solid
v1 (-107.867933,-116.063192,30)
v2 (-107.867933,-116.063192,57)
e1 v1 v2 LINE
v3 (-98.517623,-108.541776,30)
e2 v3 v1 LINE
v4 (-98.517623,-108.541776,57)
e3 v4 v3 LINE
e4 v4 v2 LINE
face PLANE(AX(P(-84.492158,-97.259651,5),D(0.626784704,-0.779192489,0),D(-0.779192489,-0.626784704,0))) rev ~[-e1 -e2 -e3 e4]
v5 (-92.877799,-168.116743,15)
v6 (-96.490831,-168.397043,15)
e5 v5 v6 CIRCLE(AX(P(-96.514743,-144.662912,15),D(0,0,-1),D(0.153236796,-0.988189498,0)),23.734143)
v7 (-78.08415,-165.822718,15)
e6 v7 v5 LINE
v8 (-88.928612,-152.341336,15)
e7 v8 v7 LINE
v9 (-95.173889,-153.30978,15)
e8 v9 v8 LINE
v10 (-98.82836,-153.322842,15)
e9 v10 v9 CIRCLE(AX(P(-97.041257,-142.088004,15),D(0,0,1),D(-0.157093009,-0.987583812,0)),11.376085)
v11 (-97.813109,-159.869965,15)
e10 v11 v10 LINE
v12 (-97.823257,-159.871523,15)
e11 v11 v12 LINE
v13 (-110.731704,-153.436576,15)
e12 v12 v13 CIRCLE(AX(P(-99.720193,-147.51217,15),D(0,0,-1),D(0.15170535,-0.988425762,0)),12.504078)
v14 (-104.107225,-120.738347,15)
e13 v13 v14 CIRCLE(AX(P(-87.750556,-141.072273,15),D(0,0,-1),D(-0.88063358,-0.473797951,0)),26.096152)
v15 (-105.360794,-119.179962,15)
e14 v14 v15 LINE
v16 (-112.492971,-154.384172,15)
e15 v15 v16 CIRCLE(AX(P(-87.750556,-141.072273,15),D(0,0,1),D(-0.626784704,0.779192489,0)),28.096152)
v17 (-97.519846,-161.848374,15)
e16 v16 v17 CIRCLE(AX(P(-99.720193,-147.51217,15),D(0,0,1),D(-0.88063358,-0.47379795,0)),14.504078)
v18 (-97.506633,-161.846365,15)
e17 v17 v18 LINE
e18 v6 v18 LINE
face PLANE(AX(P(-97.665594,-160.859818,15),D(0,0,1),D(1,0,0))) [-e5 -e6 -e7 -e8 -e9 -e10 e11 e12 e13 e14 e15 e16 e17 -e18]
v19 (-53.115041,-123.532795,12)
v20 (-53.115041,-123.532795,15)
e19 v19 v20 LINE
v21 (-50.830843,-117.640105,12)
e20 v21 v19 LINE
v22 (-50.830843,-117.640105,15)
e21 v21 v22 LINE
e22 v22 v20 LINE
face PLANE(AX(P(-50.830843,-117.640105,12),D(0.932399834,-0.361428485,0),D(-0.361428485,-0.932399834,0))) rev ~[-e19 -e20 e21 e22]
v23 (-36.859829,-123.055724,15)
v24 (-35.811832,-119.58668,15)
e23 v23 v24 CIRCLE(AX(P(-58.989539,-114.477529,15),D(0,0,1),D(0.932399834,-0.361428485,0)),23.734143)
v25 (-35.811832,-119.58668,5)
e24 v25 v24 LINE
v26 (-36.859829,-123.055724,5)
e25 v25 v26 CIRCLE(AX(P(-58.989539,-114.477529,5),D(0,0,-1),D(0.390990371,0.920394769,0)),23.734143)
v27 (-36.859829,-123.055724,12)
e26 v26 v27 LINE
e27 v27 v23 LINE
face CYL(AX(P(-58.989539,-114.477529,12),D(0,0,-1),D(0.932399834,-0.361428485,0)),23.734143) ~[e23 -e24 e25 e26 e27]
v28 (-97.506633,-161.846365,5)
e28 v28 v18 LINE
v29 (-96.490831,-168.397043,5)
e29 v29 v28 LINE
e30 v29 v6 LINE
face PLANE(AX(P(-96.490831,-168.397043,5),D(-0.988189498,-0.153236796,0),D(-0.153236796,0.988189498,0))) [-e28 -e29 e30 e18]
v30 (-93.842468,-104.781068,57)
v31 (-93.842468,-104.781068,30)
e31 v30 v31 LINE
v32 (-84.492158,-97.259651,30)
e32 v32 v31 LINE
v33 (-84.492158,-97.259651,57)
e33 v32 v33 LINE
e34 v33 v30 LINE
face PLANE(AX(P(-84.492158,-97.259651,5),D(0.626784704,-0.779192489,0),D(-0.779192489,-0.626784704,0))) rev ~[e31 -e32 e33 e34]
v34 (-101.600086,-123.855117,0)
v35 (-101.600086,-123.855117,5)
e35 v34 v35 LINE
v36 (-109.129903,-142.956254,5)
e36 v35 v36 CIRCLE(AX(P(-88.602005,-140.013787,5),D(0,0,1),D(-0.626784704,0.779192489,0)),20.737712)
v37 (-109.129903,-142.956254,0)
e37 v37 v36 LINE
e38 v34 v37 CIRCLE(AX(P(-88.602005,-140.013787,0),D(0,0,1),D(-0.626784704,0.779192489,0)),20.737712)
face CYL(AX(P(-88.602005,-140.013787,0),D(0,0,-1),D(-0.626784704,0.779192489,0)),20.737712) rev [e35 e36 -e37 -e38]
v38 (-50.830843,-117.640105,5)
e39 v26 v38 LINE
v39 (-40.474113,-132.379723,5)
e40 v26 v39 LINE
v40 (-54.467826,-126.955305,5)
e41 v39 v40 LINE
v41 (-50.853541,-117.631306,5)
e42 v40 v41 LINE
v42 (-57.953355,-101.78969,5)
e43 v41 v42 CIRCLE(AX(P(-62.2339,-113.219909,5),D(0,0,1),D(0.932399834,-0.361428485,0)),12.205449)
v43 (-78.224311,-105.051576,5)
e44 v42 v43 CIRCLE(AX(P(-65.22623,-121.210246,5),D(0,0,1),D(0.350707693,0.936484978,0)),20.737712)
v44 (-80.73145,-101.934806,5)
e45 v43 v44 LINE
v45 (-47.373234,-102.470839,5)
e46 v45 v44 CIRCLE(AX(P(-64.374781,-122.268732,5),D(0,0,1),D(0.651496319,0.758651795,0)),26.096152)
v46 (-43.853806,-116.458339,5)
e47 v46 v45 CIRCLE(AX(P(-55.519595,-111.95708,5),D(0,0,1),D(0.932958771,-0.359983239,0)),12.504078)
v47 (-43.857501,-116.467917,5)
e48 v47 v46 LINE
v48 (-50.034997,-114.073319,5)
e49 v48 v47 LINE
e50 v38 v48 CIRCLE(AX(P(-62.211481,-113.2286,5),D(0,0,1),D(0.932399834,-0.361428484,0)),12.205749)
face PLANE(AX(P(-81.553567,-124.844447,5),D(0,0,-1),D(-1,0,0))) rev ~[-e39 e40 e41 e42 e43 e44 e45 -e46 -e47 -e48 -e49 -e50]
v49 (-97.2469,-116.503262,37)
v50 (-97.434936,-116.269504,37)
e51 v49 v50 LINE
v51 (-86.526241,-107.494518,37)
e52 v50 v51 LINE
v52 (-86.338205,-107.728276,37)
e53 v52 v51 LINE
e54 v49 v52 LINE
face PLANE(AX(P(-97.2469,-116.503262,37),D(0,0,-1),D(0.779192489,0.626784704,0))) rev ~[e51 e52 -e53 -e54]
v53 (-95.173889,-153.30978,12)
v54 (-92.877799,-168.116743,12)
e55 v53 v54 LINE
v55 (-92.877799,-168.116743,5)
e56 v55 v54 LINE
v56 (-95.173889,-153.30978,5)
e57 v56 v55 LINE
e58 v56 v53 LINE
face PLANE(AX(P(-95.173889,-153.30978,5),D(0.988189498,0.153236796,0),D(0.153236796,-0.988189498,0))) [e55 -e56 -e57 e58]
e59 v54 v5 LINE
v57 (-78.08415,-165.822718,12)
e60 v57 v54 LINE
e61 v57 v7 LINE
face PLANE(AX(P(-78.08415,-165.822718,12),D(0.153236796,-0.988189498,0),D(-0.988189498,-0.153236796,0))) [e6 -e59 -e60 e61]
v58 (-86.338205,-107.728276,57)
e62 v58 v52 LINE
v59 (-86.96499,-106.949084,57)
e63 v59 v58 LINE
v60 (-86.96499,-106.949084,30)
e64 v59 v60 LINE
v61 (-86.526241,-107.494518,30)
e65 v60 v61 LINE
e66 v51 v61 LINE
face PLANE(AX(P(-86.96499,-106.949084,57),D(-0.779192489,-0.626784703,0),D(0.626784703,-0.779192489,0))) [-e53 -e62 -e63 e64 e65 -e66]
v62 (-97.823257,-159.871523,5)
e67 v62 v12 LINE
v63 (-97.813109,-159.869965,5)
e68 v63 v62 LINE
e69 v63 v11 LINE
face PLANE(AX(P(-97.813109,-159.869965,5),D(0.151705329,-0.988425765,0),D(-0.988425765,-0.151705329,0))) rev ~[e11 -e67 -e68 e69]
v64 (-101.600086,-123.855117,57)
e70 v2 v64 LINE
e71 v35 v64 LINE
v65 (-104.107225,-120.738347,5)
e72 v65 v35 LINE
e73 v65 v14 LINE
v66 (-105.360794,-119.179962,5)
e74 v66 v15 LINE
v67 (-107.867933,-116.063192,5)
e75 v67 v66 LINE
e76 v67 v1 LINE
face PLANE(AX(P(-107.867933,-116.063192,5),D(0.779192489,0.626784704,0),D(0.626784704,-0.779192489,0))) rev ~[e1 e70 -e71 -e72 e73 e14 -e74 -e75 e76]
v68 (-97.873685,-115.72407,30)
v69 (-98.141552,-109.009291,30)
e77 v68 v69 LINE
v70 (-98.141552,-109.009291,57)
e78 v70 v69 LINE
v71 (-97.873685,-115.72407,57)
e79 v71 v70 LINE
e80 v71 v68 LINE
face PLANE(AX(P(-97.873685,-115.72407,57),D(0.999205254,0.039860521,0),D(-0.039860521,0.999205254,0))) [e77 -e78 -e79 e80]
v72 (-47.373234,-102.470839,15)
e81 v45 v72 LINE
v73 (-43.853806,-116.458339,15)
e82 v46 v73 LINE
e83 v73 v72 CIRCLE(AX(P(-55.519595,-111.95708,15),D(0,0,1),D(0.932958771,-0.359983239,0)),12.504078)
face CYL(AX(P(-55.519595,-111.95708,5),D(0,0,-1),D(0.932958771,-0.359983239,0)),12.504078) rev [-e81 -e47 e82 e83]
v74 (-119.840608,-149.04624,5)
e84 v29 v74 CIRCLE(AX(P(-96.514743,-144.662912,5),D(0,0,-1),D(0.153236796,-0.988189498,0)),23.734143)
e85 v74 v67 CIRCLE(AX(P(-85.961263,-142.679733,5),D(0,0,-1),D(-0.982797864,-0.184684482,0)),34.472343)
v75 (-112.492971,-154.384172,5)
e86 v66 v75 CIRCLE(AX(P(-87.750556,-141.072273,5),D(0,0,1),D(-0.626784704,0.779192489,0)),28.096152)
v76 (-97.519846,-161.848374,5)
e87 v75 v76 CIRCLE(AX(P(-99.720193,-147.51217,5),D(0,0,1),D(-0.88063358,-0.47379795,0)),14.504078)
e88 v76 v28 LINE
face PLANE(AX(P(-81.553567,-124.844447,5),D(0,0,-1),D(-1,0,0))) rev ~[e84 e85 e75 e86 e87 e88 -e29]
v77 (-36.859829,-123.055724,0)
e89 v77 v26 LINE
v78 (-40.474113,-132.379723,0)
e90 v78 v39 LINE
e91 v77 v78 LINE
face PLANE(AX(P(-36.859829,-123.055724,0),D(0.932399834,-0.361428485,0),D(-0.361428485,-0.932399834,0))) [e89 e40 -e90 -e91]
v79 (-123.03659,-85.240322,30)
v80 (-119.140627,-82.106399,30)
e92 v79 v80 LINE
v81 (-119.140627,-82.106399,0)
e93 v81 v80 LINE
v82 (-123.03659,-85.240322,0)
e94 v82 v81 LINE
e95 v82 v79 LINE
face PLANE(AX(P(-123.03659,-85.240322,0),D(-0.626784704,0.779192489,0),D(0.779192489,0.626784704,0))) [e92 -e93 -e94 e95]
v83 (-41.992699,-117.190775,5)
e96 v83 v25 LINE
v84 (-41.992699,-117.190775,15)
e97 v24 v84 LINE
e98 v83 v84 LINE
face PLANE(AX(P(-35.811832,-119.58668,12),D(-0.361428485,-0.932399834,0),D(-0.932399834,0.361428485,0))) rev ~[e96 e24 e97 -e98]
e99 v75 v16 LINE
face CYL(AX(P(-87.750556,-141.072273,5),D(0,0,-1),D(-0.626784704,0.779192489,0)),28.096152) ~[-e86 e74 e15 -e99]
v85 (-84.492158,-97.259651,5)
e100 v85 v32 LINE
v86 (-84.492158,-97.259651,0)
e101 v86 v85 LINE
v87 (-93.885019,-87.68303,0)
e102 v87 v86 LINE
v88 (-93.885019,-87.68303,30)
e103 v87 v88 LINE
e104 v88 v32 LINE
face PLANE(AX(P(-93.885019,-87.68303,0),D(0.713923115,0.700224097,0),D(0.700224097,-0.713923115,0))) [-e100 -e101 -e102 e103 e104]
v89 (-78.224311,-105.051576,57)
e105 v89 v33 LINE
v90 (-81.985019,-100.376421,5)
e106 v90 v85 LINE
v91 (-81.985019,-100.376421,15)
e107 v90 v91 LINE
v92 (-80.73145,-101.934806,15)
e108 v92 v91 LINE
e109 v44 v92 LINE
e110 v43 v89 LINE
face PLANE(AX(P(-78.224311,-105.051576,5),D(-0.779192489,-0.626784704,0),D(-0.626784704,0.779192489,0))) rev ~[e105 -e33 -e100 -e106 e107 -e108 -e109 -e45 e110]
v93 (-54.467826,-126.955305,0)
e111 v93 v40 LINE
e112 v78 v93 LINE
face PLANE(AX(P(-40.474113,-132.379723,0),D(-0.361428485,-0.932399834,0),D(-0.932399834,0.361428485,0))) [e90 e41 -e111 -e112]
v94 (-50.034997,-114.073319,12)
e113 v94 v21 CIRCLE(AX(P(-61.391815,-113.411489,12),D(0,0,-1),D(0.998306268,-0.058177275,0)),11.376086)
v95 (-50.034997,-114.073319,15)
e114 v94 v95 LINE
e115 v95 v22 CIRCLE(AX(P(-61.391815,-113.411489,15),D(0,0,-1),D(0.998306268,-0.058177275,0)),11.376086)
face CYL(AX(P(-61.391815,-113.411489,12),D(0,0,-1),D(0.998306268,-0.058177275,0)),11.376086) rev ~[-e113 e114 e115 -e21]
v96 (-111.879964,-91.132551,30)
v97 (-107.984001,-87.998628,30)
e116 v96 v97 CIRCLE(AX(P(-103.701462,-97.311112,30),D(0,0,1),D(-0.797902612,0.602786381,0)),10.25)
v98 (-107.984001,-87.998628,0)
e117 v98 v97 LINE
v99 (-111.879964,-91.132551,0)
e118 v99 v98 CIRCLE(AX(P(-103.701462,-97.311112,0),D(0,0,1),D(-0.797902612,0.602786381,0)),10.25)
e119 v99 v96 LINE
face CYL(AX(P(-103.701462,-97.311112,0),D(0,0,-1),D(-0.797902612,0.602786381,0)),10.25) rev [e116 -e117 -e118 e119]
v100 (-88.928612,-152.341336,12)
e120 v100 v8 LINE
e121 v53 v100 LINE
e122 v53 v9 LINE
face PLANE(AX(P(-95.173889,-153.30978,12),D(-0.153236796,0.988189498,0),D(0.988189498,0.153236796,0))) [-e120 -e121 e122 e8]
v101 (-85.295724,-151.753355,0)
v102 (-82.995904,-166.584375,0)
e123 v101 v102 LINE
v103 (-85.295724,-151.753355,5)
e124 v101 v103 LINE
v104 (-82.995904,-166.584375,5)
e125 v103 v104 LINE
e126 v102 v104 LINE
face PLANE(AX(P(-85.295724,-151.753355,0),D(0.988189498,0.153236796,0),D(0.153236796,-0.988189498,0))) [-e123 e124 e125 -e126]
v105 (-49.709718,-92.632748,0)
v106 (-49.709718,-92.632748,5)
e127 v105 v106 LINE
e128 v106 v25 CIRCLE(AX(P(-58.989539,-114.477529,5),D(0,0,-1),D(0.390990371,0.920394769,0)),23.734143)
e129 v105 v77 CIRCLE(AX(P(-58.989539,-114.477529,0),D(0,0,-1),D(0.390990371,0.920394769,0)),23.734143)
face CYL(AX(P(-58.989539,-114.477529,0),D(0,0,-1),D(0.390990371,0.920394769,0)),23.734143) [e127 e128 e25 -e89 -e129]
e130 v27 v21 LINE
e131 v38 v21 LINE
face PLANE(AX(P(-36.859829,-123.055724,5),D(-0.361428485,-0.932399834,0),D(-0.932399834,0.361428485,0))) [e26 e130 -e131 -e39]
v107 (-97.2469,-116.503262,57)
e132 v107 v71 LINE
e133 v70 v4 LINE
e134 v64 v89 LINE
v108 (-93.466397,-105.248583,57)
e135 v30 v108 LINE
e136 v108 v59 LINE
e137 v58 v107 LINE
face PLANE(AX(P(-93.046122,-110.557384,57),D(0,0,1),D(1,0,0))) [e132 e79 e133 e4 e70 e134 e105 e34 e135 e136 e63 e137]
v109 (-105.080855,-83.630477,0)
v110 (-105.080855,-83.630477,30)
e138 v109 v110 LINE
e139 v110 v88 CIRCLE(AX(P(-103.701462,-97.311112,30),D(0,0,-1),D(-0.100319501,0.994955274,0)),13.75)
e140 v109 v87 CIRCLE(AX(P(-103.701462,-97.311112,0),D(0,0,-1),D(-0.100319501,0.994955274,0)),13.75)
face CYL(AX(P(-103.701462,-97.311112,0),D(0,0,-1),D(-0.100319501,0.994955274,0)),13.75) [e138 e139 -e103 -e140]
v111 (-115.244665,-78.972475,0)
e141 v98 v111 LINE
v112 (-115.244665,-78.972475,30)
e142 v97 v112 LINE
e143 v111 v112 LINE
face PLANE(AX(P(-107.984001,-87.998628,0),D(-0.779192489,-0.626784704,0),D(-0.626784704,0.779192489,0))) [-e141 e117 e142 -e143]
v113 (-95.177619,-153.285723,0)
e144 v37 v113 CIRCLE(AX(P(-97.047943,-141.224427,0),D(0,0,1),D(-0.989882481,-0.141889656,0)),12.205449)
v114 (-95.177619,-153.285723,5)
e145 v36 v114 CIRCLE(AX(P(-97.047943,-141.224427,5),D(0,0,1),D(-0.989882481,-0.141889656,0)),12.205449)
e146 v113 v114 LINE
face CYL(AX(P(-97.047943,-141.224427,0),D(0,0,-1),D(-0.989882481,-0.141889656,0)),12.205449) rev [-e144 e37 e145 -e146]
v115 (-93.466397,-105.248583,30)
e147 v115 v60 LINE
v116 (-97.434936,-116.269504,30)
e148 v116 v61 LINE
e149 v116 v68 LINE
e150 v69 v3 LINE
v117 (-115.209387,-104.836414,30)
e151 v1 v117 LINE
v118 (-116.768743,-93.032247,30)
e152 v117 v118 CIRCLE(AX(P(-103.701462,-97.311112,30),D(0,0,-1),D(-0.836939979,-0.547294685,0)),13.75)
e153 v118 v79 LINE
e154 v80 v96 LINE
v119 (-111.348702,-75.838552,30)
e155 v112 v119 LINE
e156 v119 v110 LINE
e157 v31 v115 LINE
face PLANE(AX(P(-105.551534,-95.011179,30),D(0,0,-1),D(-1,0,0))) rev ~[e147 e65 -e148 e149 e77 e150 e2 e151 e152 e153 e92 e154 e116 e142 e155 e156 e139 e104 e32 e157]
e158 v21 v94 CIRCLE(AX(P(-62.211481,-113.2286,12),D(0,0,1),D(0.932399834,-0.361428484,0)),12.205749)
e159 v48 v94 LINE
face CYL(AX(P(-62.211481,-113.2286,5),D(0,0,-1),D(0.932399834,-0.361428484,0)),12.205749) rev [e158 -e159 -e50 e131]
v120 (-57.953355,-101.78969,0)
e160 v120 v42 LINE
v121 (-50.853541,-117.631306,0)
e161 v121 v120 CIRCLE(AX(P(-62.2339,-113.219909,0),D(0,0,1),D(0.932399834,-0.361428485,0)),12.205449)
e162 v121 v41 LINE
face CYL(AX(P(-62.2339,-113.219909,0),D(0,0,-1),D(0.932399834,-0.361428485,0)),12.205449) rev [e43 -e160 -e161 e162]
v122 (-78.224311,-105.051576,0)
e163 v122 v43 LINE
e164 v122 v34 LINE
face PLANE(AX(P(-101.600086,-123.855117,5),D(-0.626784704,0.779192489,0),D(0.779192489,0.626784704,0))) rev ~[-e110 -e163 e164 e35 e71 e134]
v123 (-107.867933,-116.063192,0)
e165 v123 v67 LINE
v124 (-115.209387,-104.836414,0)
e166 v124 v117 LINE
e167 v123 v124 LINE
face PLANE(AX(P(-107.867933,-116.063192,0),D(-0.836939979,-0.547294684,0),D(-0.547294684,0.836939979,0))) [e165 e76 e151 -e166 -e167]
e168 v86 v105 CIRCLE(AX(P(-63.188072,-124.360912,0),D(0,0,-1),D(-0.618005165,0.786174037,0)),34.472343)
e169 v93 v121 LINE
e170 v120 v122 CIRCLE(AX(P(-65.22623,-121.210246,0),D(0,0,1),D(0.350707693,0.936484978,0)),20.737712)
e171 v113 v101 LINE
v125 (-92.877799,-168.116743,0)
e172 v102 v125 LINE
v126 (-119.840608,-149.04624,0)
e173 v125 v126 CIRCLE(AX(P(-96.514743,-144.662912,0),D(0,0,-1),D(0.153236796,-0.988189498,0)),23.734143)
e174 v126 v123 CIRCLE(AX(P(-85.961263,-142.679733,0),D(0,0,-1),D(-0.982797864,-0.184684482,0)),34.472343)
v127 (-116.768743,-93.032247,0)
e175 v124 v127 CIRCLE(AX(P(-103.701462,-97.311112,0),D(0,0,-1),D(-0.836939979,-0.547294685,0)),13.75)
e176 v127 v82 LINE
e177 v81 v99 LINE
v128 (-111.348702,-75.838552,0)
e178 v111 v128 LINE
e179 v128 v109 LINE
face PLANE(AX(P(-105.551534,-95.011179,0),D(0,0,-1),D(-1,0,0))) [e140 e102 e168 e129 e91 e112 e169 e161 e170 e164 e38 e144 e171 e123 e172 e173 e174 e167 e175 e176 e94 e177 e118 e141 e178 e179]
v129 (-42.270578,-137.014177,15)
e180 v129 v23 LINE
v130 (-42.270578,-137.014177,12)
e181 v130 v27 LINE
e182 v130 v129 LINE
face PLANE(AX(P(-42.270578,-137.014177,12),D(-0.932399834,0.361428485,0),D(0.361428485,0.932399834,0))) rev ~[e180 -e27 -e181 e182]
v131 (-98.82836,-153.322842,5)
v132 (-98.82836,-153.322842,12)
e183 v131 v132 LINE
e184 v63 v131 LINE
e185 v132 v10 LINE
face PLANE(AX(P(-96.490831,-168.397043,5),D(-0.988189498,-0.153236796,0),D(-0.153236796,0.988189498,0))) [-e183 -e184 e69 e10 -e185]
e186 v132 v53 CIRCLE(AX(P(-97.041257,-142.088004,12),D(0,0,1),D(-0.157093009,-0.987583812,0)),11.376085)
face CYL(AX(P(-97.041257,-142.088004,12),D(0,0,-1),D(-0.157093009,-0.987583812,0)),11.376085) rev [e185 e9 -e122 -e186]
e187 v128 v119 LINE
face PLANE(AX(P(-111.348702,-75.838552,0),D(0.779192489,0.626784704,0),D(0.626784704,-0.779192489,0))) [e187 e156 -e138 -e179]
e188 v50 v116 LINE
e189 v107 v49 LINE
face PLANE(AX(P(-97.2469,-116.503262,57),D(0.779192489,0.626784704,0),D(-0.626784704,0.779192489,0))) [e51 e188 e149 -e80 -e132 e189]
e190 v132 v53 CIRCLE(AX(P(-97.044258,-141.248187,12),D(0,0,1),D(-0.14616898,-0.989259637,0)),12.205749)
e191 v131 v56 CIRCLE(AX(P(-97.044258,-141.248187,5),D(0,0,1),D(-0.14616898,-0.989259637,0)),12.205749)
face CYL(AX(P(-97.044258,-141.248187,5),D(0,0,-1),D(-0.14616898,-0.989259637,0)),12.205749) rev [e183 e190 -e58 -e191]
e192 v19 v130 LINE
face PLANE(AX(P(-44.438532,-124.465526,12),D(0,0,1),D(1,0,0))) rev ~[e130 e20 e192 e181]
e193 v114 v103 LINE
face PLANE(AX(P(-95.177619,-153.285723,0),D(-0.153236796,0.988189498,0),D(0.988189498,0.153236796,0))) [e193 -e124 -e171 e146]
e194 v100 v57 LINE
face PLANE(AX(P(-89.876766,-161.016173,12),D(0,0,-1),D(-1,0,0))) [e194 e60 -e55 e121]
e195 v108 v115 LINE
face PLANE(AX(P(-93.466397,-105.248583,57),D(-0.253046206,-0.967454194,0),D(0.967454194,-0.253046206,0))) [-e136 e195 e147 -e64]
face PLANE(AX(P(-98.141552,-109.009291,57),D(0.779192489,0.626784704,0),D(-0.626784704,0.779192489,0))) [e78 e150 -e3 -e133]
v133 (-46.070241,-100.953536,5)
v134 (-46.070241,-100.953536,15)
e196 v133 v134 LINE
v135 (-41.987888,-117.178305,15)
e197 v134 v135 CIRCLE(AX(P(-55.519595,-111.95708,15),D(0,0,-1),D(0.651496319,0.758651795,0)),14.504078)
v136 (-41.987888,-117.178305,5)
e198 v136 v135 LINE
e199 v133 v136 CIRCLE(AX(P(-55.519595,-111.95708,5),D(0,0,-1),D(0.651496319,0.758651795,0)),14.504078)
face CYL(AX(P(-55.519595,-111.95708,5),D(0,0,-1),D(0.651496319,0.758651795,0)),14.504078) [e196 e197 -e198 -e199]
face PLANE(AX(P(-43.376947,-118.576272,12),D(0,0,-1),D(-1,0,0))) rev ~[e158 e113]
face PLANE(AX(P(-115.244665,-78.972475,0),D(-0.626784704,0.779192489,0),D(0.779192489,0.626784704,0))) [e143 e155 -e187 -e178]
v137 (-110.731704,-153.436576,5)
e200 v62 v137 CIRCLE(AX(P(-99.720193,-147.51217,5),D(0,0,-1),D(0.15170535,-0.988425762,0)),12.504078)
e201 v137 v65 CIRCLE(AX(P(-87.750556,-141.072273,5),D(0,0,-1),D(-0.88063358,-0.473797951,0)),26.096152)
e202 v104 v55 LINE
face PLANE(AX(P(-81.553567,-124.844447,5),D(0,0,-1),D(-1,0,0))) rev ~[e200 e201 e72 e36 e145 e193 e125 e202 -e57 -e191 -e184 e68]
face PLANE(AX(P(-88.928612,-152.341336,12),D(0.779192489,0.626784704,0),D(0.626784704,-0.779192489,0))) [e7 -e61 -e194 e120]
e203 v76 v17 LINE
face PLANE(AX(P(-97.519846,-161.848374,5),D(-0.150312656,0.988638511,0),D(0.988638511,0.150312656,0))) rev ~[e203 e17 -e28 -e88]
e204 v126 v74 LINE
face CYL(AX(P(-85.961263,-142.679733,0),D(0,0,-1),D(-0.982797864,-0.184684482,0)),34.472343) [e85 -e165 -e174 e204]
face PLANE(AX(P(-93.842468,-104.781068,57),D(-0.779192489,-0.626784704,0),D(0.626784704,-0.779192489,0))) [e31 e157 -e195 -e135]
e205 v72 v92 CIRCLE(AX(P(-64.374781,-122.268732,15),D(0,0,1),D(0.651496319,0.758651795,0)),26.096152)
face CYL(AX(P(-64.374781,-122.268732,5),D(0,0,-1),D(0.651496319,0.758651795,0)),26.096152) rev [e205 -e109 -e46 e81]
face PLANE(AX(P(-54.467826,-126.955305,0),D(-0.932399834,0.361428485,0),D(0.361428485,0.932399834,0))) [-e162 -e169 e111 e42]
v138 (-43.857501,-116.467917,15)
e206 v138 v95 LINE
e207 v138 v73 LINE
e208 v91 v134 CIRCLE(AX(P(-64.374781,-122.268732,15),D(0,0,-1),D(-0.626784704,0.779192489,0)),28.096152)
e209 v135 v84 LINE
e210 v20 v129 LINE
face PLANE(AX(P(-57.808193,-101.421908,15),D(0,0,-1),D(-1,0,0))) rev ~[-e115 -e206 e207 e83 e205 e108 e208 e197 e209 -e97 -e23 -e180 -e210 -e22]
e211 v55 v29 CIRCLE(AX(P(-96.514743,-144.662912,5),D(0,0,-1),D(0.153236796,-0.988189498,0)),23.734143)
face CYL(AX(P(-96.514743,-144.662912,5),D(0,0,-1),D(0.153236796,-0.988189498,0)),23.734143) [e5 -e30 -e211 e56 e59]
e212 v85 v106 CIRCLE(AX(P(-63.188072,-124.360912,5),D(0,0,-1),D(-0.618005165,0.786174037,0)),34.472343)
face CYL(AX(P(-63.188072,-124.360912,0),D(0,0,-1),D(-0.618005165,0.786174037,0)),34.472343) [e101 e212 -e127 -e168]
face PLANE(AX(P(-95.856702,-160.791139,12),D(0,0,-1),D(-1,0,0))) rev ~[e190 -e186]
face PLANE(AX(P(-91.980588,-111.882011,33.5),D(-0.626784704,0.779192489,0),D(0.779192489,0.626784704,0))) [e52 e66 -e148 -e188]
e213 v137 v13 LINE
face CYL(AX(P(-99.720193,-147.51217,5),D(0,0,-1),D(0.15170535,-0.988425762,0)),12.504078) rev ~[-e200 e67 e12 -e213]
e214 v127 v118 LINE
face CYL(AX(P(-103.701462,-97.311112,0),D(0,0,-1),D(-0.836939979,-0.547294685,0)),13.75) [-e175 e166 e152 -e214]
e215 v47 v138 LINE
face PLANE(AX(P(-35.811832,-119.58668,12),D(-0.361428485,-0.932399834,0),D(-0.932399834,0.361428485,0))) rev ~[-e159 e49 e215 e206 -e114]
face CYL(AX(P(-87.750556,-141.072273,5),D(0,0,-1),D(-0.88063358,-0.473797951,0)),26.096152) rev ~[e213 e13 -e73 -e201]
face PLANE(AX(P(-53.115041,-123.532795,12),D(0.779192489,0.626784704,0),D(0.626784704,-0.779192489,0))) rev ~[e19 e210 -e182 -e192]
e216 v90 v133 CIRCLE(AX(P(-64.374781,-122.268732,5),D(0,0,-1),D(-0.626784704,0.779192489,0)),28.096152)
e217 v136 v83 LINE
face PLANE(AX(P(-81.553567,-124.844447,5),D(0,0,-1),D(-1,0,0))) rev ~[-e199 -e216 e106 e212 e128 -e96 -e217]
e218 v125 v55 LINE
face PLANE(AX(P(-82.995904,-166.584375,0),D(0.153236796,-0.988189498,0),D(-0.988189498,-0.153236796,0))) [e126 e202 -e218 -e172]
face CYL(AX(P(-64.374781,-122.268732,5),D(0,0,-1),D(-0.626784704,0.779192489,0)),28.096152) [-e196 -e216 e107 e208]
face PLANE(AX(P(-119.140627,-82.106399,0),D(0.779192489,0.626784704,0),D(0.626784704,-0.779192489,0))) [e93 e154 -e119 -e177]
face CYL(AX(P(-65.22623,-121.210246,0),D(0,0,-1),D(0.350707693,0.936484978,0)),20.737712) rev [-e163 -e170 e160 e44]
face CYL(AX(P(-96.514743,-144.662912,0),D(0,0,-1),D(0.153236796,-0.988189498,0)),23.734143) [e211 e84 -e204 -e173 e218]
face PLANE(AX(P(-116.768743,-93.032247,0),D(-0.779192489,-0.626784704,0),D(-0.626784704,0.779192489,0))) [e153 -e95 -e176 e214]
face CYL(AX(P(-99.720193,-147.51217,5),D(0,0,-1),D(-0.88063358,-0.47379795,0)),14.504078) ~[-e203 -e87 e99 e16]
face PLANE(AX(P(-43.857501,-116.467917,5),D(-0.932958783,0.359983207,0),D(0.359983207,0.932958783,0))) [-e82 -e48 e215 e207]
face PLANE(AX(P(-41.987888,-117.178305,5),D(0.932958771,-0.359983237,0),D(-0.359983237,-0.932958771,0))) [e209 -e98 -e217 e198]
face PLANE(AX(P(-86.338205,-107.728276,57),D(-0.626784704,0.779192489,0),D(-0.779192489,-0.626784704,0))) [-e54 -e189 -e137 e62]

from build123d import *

# Parameters (mm, degrees)
ESTRUSIONE_ESTRUSIONE1_DEPTH = 5
ESTRUSIONE_ESTRUSIONE2_DEPTH = 7
ESTRUSIONE_ESTRUSIONE3_DEPTH = 3
ESTRUSIONE_ESTRUSIONE4_DEPTH = 52
TAGLIO_ESTRUSIONE2_DEPTH     = 27
ESTRUSIONE_ESTRUSIONE8_DEPTH = 10
ESTRUSIONE_ESTRUSIONE6_DEPTH = 30
SCHIZZO10_W                  = 14
SCHIZZO10_H                  = 7
ESTRUSIONE_ESTRUSIONE7_DEPTH = 0.3


with BuildPart() as part:
    # Schizzo1 → Estrusione-Estrusione1 (new body)
    with BuildSketch(Plane.XY):
        with BuildLine():
            Line((-82.995904107, -166.584374689), (-92.877799089, -168.116742646))
            ThreePointArc((-92.877799089, -168.116742646), (-110.220012955, -164.040092202), (-119.840608042, -149.046239769))
            ThreePointArc((-119.840608042, -149.046239769), (-118.364815633, -130.917411526), (-107.867932944, -116.063192243))
            Line((-107.867932944, -116.063192243), (-84.49215827, -97.259651129))
            ThreePointArc((-84.49215827, -97.259651129), (-67.733683115, -90.189581316), (-49.709718148, -92.632748029))
            ThreePointArc((-49.709718148, -92.632748029), (-37.125664022, -105.242785395), (-36.859828578, -123.055724291))
            Line((-36.859828578, -123.055724291), (-40.474113425, -132.379722631))
            Line((-40.474113425, -132.379722631), (-54.467826156, -126.955304689))
            Line((-54.467826156, -126.955304689), (-50.853541308, -117.631306349))
            ThreePointArc((-50.853541308, -117.631306349), (-51.095893898, -108.22813541), (-57.953355129, -101.789689638))
            ThreePointArc((-57.953355129, -101.789689638), (-68.520842721, -100.735914417), (-78.224311232, -105.051576021))
            Line((-78.224311232, -105.051576021), (-101.600085906, -123.855117134))
            ThreePointArc((-101.600085906, -123.855117134), (-107.894780127, -132.408424149), (-109.129903142, -142.956253658))
            ThreePointArc((-109.129903142, -142.956253658), (-104.310440062, -151.034071069), (-95.177618995, -153.285723315))
            Line((-95.177618995, -153.285723315), (-85.295724012, -151.753355358))
            Line((-85.295724012, -151.753355358), (-82.995904107, -166.584374689))
        make_face()
    extrude(amount=ESTRUSIONE_ESTRUSIONE1_DEPTH)

    # Schizzo2 → Estrusione-Estrusione2 (add)
    with BuildSketch(Plane.XY.offset(5)):
        with BuildLine():
            Line((-36.859828578, -123.055724291), (-50.830842779, -117.640105037))
            ThreePointArc((-50.830842779, -117.640105037), (-50.298673229, -115.886666013), (-50.034997321, -114.073318872))
            Line((-50.034997321, -114.073318872), (-35.811832194, -119.586680021))
            ThreePointArc((-35.811832194, -119.586680021), (-36.269524014, -121.341233275), (-36.859828578, -123.055724291))
        make_face()
        with BuildLine():
            Line((-96.490830562, -168.397042736), (-98.828360202, -153.322841843))
            ThreePointArc((-98.828360202, -153.322841843), (-97.000632762, -153.453858051), (-95.173888567, -153.309779998))
            Line((-95.173888567, -153.309779998), (-92.877799089, -168.116742646))
            ThreePointArc((-92.877799089, -168.116742646), (-94.678957246, -168.325951195), (-96.490830562, -168.397042736))
        make_face()
    extrude(amount=ESTRUSIONE_ESTRUSIONE2_DEPTH)

    # Schizzo3 → Estrusione-Estrusione3 (add)
    with BuildSketch(Plane.XY.offset(12)):
        with BuildLine():
            Line((-42.270578454, -137.014176653), (-36.859828578, -123.055724291))
            ThreePointArc((-36.859828578, -123.055724291), (-36.269524014, -121.341233275), (-35.811832194, -119.586680021))
            Line((-35.811832194, -119.586680021), (-50.034997321, -114.073318872))
            ThreePointArc((-50.034997321, -114.073318872), (-50.288758238, -115.888878313), (-50.830842779, -117.640105037))
            Line((-50.830842779, -117.640105037), (-53.115040991, -123.532795079))
            Line((-53.115040991, -123.532795079), (-42.270578454, -137.014176653))
        make_face()
        with BuildLine():
            Line((-96.490830562, -168.397042736), (-98.828360202, -153.322841843))
            ThreePointArc((-98.828360202, -153.322841843), (-97.000596453, -153.464016791), (-95.173888567, -153.309779998))
            Line((-95.173888567, -153.309779998), (-88.928612449, -152.34133609))
            Line((-88.928612449, -152.34133609), (-78.084149913, -165.822717664))
            Line((-78.084149913, -165.822717664), (-92.877799089, -168.116742646))
            ThreePointArc((-92.877799089, -168.116742646), (-94.678957246, -168.325951195), (-96.490830562, -168.397042736))
        make_face()
    extrude(amount=ESTRUSIONE_ESTRUSIONE3_DEPTH)

    # Schizzo4 → Estrusione-Estrusione4 (add)
    with BuildSketch(Plane.XY.offset(5)):
        Polygon((-101.600085906, -123.855117134), (-78.224311232, -105.051576021), (-84.49215827, -97.259651129), (-107.867932944, -116.063192243), align=None)
    extrude(amount=ESTRUSIONE_ESTRUSIONE4_DEPTH)

    # Schizzo5 → Taglio-Estrusione2 (cut)
    with BuildSketch(Plane.XY.offset(57)):
        Polygon((-97.246900104, -116.503262037), (-97.873684808, -115.724069548), (-98.141552252, -109.009291291), (-98.517623074, -108.541775798), (-93.842468139, -104.781067575), (-93.466397317, -105.248583068), (-86.96498996, -106.949083694), (-86.338205256, -107.728276184), align=None)
    extrude(amount=-TAGLIO_ESTRUSIONE2_DEPTH, mode=Mode.SUBTRACT)

    # Schizzo6 → Estrusione-Estrusione8 (add)
    with BuildSketch(Plane.XY.offset(5)):
        Polygon((-97.823256998, -159.87152255), (-97.519846298, -161.848374074), (-97.50663255, -161.846365055), (-97.813109395, -159.869965078), align=None)
        with BuildLine():
            Line((-104.107224721, -120.738347178), (-105.360794128, -119.1799622))
            ThreePointArc((-105.360794128, -119.1799622), (-115.28727508, -135.493487076), (-112.492970749, -154.384172115))
            ThreePointArc((-112.492970749, -154.384172115), (-106.191101066, -160.49275607), (-97.519846298, -161.848374074))
            Line((-97.519846298, -161.848374074), (-97.823256998, -159.87152255))
            ThreePointArc((-97.823256998, -159.87152255), (-105.298812913, -158.702833766), (-110.731703589, -153.436576214))
            ThreePointArc((-110.731703589, -153.436576214), (-113.327097811, -135.89060806), (-104.107224721, -120.738347178))
        make_face()
        with BuildLine():
            ThreePointArc((-43.853805634, -116.458338954), (-43.393471858, -108.905997429), (-47.373234104, -102.470839142))
            ThreePointArc((-47.373234104, -102.470839142), (-63.955496248, -96.175948212), (-80.731450047, -101.934806064))
            Line((-80.731450047, -101.934806064), (-81.985019455, -100.376421086))
            ThreePointArc((-81.985019455, -100.376421086), (-63.923362402, -94.176206375), (-46.070241465, -100.953535552))
            ThreePointArc((-46.070241465, -100.953535552), (-41.453924934, -108.417983362), (-41.987888093, -117.178305432))
            Line((-41.987888093, -117.178305432), (-43.853805634, -116.458338954))
        make_face()
        Polygon((-43.857501376, -116.467917109), (-43.853805634, -116.458338954), (-41.987888093, -117.178305432), (-41.99269947, -117.190774947), align=None)
    extrude(amount=ESTRUSIONE_ESTRUSIONE8_DEPTH)

    # Schizzo9 → Estrusione-Estrusione6 (add)
    with BuildSketch(Plane(origin=(0, 0, 0), x_dir=(-1, 0, 0), z_dir=(0, 0, -1))):
        with BuildLine():
            Line((93.885019226, -87.68303048), (84.49215827, -97.259651129))
            Line((84.49215827, -97.259651129), (107.867932944, -116.063192243))
            Line((107.867932944, -116.063192243), (115.209386763, -104.836413728))
            ThreePointArc((115.209386763, -104.836413728), (117.333034353, -99.111871829), (116.768742523, -93.032247353))
            Line((116.768742523, -93.032247353), (123.036589561, -85.240322461))
            Line((123.036589561, -85.240322461), (119.140627115, -82.106398942))
            Line((119.140627115, -82.106398942), (111.879963827, -91.132551409))
            ThreePointArc((111.879963827, -91.132551409), (97.276918838, -105.29783483), (107.984001382, -87.99862789))
            Line((107.984001382, -87.99862789), (115.24466467, -78.972475424))
            Line((115.24466467, -78.972475424), (111.348702224, -75.838551905))
            Line((111.348702224, -75.838551905), (105.080855186, -83.630476796))
            ThreePointArc((105.080855186, -83.630476796), (99.021531527, -84.382045715), (93.885019226, -87.68303048))
        make_face()
    extrude(amount=-ESTRUSIONE_ESTRUSIONE6_DEPTH)

    # Schizzo10 → Estrusione-Estrusione7 (add)
    with BuildSketch(Plane(origin=(18.694228144, -23.239881369, 0), x_dir=(0.779192489117125, 0.6267847037886766, 0), z_dir=(-0.6267847037886766, 0.779192489117125, 0))):
        with Locations((-141.796516737, -33.5)):
            Rectangle(SCHIZZO10_W, SCHIZZO10_H)
    extrude(amount=ESTRUSIONE_ESTRUSIONE7_DEPTH)


solid = part.part
